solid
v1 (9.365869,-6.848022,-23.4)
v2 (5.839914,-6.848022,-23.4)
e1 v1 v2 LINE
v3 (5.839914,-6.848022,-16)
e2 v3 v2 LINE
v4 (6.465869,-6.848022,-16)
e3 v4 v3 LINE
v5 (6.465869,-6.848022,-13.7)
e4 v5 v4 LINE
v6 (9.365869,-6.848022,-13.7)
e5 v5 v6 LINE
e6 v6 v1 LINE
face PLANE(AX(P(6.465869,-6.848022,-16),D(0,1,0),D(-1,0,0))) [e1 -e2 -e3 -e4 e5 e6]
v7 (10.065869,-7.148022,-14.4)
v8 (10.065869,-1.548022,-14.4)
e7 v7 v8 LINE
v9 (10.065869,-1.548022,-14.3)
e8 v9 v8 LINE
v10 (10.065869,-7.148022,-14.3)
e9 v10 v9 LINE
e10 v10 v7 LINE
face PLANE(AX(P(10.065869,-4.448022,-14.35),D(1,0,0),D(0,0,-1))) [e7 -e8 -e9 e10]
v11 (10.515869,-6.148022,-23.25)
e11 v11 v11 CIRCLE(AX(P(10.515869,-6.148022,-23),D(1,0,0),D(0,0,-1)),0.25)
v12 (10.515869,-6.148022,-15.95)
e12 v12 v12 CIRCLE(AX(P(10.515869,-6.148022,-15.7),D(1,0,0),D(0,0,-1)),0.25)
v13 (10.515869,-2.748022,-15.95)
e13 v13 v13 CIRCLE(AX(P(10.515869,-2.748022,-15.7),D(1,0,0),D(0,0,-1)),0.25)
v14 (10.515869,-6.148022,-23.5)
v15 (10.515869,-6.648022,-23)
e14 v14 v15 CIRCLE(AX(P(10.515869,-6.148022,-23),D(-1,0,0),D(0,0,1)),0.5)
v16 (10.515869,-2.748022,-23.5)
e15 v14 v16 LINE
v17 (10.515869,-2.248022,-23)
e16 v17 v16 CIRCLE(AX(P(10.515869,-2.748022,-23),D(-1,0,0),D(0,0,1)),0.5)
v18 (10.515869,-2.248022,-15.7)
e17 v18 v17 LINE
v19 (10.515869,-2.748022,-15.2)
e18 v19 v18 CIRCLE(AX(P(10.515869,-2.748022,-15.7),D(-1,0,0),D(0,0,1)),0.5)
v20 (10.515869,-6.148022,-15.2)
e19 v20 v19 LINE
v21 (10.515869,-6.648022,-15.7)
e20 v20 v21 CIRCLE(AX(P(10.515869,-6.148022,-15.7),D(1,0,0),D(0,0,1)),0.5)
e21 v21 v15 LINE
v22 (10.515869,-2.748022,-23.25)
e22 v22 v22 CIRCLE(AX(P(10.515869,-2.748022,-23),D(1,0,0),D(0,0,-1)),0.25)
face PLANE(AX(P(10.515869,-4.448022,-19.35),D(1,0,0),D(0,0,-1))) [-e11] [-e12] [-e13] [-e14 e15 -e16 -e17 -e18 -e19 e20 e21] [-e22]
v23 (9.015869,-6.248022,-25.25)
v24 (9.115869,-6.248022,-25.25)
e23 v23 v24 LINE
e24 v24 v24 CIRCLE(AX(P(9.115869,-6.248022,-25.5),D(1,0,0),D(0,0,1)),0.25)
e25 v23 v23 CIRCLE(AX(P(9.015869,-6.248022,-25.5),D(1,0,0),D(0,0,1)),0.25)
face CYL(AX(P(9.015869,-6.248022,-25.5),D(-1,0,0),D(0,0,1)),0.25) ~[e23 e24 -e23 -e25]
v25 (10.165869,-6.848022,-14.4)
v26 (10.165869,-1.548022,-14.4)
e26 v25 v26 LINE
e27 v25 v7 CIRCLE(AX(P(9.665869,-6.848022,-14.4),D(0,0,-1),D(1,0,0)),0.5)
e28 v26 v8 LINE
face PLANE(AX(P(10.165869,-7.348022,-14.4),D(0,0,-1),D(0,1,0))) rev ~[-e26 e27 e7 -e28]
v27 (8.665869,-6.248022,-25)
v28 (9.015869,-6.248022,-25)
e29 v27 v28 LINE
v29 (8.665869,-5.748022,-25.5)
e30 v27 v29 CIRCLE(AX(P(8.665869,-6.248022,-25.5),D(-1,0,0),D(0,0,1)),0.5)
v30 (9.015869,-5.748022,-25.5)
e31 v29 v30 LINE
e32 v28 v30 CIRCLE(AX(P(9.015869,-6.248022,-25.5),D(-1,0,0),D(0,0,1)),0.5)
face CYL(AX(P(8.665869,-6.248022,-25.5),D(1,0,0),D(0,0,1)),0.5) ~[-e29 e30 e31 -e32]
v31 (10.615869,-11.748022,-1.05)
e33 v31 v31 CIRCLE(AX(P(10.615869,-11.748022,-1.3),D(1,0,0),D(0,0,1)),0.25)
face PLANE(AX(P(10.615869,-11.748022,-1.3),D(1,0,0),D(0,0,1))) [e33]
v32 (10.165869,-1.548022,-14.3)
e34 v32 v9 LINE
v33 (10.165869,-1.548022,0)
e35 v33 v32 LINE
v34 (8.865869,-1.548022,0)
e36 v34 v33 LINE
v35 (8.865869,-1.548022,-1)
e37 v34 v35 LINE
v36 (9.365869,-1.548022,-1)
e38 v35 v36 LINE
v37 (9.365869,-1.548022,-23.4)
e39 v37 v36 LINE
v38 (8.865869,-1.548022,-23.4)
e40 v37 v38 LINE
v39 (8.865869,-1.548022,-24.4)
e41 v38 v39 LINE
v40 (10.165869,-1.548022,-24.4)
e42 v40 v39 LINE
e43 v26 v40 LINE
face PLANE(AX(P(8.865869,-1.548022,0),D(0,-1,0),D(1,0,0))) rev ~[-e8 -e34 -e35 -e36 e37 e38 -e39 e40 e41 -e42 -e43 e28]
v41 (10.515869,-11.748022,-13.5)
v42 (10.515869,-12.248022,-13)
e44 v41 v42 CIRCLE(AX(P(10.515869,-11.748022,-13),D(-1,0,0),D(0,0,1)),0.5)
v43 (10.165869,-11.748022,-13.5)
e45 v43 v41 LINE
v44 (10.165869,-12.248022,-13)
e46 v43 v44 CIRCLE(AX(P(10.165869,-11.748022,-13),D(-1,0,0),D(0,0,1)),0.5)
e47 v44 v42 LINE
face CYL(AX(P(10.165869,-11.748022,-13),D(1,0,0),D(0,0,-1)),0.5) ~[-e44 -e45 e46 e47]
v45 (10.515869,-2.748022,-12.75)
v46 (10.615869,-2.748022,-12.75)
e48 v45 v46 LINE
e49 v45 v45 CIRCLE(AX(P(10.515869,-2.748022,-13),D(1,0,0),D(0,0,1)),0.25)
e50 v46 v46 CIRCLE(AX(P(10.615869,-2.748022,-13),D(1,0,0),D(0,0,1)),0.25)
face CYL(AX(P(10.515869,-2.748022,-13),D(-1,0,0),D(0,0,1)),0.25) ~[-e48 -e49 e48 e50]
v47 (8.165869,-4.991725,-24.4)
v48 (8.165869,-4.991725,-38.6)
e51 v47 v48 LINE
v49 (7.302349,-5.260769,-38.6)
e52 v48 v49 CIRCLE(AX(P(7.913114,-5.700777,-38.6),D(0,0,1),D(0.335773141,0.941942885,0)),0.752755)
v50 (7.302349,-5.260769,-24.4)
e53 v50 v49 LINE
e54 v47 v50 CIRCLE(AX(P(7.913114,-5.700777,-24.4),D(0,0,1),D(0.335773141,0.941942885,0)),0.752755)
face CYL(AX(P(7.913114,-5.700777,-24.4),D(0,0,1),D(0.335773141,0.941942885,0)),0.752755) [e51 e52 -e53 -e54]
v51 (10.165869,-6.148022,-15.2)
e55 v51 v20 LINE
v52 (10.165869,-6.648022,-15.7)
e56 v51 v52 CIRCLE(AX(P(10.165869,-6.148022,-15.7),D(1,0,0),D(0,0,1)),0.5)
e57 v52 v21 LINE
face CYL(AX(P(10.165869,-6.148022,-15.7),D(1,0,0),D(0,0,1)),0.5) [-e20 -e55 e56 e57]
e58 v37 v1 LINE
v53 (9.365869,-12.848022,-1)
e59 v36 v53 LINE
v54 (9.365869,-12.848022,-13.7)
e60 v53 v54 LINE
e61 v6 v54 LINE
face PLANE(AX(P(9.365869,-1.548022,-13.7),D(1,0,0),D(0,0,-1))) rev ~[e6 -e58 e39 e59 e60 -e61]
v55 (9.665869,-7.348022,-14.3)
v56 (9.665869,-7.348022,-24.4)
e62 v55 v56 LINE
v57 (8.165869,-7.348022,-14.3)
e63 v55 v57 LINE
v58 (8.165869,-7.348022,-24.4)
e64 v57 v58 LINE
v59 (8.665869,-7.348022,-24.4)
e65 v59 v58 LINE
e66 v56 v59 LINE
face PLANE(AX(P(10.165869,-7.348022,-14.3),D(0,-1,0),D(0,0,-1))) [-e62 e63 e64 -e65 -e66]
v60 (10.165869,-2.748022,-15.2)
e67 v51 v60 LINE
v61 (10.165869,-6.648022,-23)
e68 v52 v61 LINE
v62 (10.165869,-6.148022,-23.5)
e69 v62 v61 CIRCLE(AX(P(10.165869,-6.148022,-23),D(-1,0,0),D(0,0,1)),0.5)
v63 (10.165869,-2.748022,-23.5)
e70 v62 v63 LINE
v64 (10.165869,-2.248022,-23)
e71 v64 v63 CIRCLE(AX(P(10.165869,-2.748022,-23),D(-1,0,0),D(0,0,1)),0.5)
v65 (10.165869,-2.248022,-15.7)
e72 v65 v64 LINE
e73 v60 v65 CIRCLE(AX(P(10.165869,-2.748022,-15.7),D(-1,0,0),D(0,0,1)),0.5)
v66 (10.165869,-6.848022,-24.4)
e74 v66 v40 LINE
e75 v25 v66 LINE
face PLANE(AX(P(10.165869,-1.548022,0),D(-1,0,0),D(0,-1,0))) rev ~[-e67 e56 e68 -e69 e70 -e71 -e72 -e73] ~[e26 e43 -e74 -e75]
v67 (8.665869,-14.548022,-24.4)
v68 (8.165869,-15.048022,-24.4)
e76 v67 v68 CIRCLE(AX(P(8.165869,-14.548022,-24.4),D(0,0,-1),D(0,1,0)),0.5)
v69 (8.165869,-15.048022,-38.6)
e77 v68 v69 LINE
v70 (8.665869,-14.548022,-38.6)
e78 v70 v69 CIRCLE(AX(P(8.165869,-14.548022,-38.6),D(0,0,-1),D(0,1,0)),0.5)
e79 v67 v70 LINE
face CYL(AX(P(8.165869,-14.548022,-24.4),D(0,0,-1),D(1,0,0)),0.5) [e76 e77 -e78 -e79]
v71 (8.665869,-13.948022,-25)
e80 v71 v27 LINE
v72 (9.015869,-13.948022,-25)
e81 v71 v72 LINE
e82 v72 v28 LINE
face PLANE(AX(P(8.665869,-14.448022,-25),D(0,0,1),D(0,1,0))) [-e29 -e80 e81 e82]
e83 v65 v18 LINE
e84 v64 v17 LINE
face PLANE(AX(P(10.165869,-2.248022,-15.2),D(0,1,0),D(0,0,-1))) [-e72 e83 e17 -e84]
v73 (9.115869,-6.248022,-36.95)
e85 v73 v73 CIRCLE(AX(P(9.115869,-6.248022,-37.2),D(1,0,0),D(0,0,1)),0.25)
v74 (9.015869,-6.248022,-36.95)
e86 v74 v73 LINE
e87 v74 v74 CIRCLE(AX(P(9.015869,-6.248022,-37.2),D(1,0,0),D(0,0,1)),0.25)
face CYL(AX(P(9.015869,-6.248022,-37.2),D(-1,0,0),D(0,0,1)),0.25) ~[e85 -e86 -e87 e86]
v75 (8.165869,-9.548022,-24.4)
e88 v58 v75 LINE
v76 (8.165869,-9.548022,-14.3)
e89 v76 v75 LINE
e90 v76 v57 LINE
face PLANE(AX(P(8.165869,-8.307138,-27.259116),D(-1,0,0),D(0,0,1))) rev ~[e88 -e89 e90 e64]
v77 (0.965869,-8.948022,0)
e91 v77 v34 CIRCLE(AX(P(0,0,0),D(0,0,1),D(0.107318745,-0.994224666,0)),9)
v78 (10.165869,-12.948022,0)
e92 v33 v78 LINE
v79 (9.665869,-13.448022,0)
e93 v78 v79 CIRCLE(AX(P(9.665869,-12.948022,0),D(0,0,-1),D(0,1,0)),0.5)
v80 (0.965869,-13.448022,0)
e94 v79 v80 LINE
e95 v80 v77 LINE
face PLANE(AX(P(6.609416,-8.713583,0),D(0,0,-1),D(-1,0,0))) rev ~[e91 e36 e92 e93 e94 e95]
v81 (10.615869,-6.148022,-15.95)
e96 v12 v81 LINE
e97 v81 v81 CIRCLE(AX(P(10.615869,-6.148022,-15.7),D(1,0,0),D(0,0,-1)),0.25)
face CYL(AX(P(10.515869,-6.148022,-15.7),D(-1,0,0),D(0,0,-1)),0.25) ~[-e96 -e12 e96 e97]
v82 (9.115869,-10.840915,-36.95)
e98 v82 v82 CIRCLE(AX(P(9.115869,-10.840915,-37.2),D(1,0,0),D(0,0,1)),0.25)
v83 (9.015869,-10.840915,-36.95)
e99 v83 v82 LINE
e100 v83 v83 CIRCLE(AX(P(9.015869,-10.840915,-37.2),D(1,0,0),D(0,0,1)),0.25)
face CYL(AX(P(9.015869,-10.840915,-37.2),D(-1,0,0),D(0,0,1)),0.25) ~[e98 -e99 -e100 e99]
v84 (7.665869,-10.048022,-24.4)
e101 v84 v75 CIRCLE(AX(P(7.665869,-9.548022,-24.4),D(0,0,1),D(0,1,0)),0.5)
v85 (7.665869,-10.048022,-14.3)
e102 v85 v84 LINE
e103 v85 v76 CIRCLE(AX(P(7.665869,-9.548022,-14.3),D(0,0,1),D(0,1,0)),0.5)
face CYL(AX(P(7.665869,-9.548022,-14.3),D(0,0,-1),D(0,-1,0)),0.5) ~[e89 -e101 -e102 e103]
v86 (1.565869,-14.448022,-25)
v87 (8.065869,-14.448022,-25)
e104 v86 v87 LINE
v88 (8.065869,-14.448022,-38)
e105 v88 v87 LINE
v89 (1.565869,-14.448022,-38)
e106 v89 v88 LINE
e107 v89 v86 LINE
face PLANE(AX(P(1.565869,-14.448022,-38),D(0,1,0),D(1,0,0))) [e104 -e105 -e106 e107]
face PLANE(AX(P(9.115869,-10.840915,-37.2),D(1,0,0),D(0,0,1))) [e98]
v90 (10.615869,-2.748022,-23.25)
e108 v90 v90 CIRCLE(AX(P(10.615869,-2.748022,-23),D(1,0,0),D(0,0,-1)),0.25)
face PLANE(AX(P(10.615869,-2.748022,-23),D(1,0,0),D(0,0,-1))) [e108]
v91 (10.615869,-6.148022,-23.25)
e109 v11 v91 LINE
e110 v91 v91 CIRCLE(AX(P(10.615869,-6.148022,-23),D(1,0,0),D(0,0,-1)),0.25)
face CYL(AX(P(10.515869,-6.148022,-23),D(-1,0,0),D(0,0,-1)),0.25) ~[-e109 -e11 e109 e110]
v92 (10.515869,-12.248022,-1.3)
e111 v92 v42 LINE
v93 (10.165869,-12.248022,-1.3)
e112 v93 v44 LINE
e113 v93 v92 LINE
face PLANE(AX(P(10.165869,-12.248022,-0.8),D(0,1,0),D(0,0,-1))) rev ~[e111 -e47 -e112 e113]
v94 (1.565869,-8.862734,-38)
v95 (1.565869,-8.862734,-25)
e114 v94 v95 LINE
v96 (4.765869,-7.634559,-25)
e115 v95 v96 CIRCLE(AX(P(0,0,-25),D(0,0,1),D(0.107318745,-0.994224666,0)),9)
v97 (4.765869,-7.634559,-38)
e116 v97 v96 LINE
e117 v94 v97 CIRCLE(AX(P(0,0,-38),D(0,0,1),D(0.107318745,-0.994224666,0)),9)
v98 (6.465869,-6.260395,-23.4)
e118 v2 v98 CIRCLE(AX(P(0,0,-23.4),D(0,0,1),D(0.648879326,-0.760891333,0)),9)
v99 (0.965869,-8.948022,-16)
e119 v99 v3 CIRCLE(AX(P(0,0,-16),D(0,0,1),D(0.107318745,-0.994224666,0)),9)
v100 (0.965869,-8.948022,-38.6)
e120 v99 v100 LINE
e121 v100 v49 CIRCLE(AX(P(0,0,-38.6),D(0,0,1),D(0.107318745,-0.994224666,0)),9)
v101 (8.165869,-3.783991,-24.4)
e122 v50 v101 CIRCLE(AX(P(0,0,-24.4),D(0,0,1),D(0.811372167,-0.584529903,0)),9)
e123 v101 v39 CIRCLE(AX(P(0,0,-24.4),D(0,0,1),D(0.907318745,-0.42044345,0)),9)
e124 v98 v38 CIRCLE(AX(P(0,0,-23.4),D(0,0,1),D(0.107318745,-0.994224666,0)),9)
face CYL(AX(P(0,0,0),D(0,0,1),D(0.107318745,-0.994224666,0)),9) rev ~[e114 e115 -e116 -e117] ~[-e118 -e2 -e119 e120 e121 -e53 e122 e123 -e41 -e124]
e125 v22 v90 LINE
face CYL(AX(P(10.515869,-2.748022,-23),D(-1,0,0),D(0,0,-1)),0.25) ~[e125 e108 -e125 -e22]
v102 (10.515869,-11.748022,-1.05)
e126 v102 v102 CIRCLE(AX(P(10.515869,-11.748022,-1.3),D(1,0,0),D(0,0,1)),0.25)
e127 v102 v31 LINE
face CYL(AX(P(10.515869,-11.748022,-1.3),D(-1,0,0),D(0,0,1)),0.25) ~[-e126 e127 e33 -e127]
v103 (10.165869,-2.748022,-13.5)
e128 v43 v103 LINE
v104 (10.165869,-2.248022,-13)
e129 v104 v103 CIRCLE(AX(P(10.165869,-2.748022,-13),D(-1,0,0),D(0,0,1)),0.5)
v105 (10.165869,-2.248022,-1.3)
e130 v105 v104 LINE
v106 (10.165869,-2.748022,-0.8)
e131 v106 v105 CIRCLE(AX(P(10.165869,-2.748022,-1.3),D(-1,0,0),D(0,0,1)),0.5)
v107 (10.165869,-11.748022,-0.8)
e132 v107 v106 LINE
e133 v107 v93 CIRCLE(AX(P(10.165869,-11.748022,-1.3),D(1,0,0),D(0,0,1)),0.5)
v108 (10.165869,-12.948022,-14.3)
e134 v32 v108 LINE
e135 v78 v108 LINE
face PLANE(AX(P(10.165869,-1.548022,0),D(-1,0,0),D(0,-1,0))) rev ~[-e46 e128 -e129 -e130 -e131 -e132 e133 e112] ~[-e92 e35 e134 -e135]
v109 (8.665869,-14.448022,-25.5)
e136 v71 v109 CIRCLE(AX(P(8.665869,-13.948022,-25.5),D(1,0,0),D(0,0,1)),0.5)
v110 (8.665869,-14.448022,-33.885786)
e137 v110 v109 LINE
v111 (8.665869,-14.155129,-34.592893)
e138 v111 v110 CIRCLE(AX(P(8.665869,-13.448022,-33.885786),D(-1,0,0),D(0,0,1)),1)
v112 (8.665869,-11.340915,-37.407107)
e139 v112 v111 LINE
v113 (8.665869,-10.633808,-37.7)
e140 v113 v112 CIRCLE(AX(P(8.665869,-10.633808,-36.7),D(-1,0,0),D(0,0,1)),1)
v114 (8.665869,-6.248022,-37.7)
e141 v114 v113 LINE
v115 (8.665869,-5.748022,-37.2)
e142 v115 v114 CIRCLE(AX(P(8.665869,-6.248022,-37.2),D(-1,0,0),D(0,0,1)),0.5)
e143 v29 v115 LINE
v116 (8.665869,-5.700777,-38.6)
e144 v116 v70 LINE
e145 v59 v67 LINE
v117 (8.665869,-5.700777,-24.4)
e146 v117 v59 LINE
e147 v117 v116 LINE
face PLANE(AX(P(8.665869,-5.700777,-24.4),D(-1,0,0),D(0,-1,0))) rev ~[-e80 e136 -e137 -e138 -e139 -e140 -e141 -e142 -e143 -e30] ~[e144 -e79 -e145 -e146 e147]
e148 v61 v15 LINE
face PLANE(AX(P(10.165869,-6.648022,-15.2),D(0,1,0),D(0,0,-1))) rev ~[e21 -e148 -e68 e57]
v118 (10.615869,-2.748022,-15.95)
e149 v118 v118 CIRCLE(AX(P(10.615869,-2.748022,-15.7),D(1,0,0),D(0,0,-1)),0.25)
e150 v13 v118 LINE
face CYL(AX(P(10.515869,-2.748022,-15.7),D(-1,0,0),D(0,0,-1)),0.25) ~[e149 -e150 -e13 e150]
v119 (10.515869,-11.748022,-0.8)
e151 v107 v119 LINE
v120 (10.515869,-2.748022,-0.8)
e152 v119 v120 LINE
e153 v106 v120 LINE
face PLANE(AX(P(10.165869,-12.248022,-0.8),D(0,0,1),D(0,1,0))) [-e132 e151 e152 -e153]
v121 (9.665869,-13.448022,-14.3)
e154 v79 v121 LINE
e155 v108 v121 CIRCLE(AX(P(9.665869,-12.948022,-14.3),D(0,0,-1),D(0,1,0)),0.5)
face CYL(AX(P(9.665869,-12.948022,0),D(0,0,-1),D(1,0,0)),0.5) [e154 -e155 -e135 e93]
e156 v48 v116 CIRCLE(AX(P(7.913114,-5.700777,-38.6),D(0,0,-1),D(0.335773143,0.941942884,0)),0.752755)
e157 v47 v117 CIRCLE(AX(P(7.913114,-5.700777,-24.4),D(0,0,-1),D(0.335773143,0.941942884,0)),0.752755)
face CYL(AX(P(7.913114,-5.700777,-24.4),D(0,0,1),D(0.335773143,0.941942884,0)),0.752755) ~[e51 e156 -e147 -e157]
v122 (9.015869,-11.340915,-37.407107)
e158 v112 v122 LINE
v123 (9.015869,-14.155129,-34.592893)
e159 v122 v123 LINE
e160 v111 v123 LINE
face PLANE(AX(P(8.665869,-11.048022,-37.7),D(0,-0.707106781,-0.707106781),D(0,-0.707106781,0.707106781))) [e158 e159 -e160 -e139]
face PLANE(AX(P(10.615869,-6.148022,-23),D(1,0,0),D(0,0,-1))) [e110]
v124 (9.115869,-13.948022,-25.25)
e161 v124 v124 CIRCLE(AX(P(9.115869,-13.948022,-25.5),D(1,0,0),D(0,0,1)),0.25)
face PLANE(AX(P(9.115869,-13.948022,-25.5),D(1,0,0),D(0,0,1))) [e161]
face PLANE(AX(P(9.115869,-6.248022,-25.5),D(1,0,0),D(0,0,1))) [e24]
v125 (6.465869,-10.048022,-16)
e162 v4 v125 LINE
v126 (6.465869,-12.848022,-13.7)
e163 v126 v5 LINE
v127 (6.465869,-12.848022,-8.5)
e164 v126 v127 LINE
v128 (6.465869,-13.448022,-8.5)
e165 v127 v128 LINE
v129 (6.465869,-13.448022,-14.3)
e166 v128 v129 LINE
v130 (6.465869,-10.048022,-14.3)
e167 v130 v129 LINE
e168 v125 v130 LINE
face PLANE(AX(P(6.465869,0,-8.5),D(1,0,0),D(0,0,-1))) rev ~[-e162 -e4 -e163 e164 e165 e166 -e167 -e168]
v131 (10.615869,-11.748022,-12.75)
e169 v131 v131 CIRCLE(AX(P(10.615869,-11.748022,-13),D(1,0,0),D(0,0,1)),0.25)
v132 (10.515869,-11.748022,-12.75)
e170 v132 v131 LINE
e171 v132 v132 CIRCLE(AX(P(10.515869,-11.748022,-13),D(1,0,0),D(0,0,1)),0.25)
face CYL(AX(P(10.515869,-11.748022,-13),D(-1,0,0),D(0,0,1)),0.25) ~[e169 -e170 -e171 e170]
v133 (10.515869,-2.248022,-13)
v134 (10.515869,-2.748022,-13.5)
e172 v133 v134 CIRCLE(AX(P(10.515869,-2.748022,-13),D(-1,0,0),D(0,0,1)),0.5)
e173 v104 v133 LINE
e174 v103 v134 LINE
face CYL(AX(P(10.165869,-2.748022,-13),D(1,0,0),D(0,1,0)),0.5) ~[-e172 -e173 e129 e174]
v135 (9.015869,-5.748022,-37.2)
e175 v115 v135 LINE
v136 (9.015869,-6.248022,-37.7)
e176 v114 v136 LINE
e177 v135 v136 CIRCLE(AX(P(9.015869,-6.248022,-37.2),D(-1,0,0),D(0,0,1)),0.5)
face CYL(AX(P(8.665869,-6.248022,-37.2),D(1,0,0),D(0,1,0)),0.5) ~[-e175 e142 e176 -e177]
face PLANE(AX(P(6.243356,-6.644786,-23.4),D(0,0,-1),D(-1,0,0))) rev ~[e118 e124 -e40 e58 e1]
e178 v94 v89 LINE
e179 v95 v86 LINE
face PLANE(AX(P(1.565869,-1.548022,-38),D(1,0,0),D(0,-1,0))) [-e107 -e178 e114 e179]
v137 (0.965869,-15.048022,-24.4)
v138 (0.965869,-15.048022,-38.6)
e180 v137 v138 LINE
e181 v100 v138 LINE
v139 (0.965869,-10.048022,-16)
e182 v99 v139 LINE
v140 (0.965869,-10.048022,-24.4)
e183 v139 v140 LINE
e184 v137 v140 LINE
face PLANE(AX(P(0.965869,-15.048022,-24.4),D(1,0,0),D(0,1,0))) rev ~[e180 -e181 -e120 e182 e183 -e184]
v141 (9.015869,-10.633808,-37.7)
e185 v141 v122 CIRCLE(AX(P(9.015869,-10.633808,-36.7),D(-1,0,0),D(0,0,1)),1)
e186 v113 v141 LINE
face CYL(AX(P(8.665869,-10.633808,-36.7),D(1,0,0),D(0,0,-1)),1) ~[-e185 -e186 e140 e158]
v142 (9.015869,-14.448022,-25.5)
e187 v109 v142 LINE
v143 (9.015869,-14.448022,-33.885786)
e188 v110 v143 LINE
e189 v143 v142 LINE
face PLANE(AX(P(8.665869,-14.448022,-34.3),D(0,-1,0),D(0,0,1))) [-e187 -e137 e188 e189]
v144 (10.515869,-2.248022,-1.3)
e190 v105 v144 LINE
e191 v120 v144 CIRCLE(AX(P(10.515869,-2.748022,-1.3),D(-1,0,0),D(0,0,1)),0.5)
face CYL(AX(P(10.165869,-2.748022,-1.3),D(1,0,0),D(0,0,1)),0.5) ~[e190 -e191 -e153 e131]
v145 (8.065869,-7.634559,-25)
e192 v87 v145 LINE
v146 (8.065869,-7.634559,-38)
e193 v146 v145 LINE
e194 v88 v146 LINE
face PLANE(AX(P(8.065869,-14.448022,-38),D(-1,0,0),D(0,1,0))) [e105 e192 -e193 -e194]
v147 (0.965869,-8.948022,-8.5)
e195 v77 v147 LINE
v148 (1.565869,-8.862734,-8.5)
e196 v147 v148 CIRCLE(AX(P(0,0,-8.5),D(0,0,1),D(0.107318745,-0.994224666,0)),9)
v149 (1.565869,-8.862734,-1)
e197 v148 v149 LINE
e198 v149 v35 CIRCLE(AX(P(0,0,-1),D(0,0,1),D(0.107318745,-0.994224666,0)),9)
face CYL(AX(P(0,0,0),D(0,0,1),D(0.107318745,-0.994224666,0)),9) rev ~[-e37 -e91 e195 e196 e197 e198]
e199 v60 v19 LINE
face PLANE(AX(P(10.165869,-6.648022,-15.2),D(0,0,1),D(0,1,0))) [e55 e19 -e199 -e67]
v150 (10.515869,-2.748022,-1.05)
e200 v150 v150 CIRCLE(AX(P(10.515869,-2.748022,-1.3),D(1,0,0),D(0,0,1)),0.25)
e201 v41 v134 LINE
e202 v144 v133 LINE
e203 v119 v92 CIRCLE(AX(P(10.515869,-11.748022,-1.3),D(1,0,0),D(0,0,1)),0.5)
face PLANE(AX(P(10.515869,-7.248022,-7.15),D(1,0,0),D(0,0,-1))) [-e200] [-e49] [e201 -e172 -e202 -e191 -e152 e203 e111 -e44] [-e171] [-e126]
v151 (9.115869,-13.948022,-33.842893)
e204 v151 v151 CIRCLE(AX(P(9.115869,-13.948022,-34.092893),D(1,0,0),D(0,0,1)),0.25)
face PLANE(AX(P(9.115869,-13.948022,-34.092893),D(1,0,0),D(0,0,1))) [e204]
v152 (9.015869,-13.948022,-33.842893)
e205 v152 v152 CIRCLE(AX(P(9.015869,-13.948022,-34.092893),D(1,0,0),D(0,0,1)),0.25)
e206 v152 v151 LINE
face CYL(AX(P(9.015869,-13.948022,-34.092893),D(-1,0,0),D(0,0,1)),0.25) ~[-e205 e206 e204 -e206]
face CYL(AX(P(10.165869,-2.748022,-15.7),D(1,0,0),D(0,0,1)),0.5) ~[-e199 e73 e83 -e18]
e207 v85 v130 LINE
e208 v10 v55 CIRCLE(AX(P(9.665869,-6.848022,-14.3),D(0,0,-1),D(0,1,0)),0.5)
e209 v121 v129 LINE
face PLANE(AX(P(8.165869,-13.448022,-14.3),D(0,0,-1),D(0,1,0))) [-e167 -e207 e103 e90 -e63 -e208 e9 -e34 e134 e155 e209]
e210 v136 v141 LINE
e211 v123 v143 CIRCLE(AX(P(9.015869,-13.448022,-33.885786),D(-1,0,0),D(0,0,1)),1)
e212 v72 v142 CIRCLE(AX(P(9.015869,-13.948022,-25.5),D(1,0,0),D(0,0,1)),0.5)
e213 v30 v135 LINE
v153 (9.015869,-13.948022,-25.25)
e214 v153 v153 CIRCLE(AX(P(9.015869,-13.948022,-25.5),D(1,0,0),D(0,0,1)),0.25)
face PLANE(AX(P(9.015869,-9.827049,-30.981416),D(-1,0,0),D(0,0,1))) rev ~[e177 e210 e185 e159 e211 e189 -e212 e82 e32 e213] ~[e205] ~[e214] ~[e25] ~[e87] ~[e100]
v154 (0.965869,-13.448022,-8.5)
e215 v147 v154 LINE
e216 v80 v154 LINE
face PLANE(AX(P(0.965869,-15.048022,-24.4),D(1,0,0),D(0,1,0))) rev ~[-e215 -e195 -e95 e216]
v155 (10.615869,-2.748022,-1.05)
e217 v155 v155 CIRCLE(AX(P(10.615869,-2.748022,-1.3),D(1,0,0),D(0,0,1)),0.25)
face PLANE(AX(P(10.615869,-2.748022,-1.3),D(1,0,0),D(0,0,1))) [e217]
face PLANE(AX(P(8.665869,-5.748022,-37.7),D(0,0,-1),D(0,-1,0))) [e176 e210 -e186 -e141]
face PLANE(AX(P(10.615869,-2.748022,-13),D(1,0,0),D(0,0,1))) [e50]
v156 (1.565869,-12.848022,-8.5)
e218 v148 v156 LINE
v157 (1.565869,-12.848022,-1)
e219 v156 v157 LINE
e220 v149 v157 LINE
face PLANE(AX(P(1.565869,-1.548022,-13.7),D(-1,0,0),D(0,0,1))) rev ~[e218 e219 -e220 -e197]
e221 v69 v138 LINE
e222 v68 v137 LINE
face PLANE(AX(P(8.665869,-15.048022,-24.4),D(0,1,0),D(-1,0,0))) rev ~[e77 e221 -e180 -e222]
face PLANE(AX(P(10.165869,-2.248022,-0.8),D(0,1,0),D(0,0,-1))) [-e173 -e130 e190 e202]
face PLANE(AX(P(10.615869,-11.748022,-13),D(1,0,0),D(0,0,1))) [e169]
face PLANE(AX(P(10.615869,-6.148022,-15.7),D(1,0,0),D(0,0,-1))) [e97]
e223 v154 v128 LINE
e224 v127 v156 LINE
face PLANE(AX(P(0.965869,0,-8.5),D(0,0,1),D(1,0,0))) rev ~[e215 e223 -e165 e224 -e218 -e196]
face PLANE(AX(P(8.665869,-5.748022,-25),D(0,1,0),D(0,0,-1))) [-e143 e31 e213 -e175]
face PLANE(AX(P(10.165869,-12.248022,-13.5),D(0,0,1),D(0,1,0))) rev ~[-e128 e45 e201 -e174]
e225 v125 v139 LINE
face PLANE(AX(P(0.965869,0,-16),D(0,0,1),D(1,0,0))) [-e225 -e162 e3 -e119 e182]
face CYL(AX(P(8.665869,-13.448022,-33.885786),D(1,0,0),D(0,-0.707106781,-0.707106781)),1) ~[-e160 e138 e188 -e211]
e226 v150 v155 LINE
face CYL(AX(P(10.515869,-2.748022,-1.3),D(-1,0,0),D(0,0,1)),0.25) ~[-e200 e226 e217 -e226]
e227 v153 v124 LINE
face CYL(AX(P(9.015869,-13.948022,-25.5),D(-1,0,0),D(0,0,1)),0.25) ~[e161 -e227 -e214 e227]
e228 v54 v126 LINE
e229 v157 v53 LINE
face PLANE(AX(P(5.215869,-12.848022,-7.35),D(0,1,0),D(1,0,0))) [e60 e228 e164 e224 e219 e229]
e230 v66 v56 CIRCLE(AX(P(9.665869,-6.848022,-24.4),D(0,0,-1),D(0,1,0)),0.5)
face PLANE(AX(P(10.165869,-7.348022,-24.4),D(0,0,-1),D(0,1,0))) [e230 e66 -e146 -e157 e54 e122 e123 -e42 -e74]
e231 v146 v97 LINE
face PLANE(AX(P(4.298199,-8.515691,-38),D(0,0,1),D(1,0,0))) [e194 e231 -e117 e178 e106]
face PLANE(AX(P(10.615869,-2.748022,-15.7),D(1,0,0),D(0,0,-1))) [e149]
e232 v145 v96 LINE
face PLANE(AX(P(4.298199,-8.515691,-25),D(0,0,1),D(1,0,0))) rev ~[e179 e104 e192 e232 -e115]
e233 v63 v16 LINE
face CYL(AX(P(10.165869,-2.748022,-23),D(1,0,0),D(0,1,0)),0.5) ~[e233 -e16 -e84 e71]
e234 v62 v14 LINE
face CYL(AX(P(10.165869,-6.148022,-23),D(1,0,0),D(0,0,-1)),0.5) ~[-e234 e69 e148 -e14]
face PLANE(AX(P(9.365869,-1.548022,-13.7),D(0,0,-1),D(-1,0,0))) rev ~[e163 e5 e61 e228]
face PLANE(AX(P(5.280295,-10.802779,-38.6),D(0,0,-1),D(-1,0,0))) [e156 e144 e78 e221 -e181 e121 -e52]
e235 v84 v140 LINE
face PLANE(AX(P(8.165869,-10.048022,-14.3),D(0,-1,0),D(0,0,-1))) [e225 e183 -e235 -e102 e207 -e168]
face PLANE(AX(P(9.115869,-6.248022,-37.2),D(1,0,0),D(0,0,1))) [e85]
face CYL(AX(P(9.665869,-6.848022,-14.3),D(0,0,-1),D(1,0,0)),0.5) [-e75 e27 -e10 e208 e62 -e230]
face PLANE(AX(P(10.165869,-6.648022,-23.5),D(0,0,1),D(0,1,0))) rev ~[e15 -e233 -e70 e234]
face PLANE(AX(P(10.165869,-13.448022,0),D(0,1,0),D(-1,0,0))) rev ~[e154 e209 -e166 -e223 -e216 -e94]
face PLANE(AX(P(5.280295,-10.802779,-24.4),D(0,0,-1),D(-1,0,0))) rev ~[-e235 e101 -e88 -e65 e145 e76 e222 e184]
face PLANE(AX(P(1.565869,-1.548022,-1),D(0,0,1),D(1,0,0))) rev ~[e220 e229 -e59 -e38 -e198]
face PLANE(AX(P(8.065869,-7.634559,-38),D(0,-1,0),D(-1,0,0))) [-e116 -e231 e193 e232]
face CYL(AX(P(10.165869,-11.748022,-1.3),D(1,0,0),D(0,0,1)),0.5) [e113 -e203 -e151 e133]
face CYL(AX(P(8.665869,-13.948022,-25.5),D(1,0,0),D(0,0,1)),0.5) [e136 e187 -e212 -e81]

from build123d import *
from OCP.BRepFilletAPI import BRepFilletAPI_MakeFillet

# Parameters (mm, degrees)
BOSS_EXTRUDE1_DEPTH = 38.6
SKETCH4_W           = 12.7
SKETCH4_H           = 10
SKETCH4_W_2         = 8.3
SKETCH4_H_2         = 4.4
BOSS_EXTRUDE2_DEPTH = 0.35
FILLET1_R           = 0.5
SKETCH5_R           = 0.25
BOSS_EXTRUDE3_DEPTH = 0.1
CUT_EXTRUDE1_DEPTH  = 2
BOSS_EXTRUDE9_DEPTH = 14.2
CUT_EXTRUDE4_DEPTH  = 31.569586755
SKETCH7_W           = 10.1
SKETCH7_H           = 3.4
CUT_EXTRUDE2_DEPTH  = 43.050481162
BOSS_EXTRUDE5_DEPTH = 0.35
FILLET2_R1          = 0.5
FILLET2_R2          = 1
SKETCH9_R           = 0.25
BOSS_EXTRUDE6_DEPTH = 0.1
FILLET4_R           = 0.5
SKETCH16_W          = 0.1
SKETCH16_H          = 5.8
CUT_EXTRUDE6_DEPTH  = 0.1
SKETCH13_W          = 5.5
SKETCH13_H          = 7.5
CUT_EXTRUDE5_DEPTH  = 43.767974401
SKETCH14_W          = 0.5
SKETCH14_H          = 12.7
CUT_EXTRUDE7_DEPTH  = 11.3
SKETCH14_3_W        = 2.4
SKETCH14_3_H        = 9.7
SKETCH14_3_W_2      = 0.5
CUT_EXTRUDE8_DEPTH  = 5.3
CUT_EXTRUDE9_DEPTH  = 7.4
CUT_EXTRUDE10_START = -0.6
CUT_EXTRUDE10_DEPTH = 13


with BuildPart() as part:
    # Sketch2 → Boss-Extrude1 (new body)
    with BuildSketch(Plane.XY):
        with BuildLine():
            Line((0.965868705, -13.448021996), (0.965868705, -8.948021996))
            ThreePointArc((0.965868705, -8.948021996), (6.152703888, -6.568427123), (8.865868705, -1.548021996))
            Line((8.865868705, -1.548021996), (10.165868705, -1.548021996))
            Line((10.165868705, -1.548021996), (10.165868705, -13.448021996))
            Line((10.165868705, -13.448021996), (0.965868705, -13.448021996))
        make_face()
    extrude(amount=-BOSS_EXTRUDE1_DEPTH)

    # Sketch4 → Boss-Extrude2 (add)
    with BuildSketch(Plane(origin=(10.165868705, 0, 0), x_dir=(0, 0, -1), z_dir=(1, 0, 0))):
        with Locations((7.15, -7.248021996)):
            Rectangle(SKETCH4_W, SKETCH4_H)
        with Locations((19.35, -4.448021996)):
            Rectangle(SKETCH4_W_2, SKETCH4_H_2)
    extrude(amount=BOSS_EXTRUDE2_DEPTH)

    # Fillet1
    fillet1_edges = [part.edges().sort_by_distance(p)[0] for p in [
        (10.340868705, -2.248021996, -0.8),
        (10.340868705, -12.248021996, -0.8),
        (10.340868705, -12.248021996, -13.5),
        (10.340868705, -2.248021996, -13.5),
        (10.340868705, -2.248021996, -15.2),
        (10.340868705, -6.648021996, -15.2),
        (10.340868705, -6.648021996, -23.5),
        (10.340868705, -2.248021996, -23.5),
    ]]
    fillet(fillet1_edges, radius=FILLET1_R)

    # Sketch5 → Boss-Extrude3 (add)
    with BuildSketch(Plane(origin=(10.515868705, 0, 0), x_dir=(0, 0, -1), z_dir=(1, 0, 0))):
        with Locations(Location((1.3, -2.748021996, 0), (0, 0, 180))):
            Circle(SKETCH5_R)
        with Locations(Location((13, -2.748021996, 0), (0, 0, 180))):
            Circle(SKETCH5_R)
        with Locations((15.7, -2.748021996)):
            Circle(SKETCH5_R)
        with Locations((15.7, -6.148021996)):
            Circle(SKETCH5_R)
        with Locations(Location((13, -11.748021996, 0), (0, 0, 180))):
            Circle(SKETCH5_R)
        with Locations(Location((1.3, -11.748021996, 0), (0, 0, 180))):
            Circle(SKETCH5_R)
        with Locations((23, -2.748021996)):
            Circle(SKETCH5_R)
        with Locations((23, -6.148021996)):
            Circle(SKETCH5_R)
    extrude(amount=BOSS_EXTRUDE3_DEPTH)

    # Sketch3 → Cut-Extrude1 (cut)
    with BuildSketch(Plane(origin=(10.165868705, 0, 0), x_dir=(0, 0, -1), z_dir=(1, 0, 0))):
        Polygon((14.3, -13.448021996), (14.3, -7.348021996), (24.4, -7.348021996), (24.4, -1.548021996), (38.6, -1.548021996), (38.6, -13.448021996), align=None)
    extrude(amount=-CUT_EXTRUDE1_DEPTH, mode=Mode.SUBTRACT)

    # Sketch12 → Boss-Extrude9 (add)
    with BuildSketch(Plane(origin=(0, 0, -24.4), x_dir=(-1, 0, 0), z_dir=(0, 0, -1))):
        with BuildLine():
            Line((-8.165868705, -7.348021996), (-8.665868705, -7.348021996))
            Line((-8.665868705, -7.348021996), (-8.665868705, -15.048021996))
            Line((-8.665868705, -15.048021996), (-0.965868705, -15.048021996))
            Line((-0.965868705, -15.048021996), (-0.965868705, -8.948021996))
            ThreePointArc((-0.965868705, -8.948021996), (-4.526567846, -7.778829188), (-7.302349494, -5.260769133))
            ThreePointArc((-7.302349494, -5.260769133), (-7.689196636, -4.98209684), (-8.165868705, -4.991724772))
            Line((-8.165868705, -4.991724772), (-8.165868705, -7.348021996))
        make_face()
        with BuildLine():
            ThreePointArc((-8.165868705, -4.991724772), (-8.528297691, -5.266969628), (-8.665868705, -5.700776862))
            Line((-8.665868705, -5.700776862), (-8.665868705, -7.348021996))
            Line((-8.665868705, -7.348021996), (-8.165868705, -7.348021996))
            Line((-8.165868705, -7.348021996), (-8.165868705, -4.991724772))
        make_face()
    extrude(amount=BOSS_EXTRUDE9_DEPTH)

    # Sketch12<3> → Cut-Extrude4 (cut, through all)
    with BuildSketch(Plane(origin=(0, 0, -24.4), x_dir=(-1, 0, 0), z_dir=(0, 0, -1))):
        with BuildLine():
            Line((-8.165868705, -3.783991053), (-8.165868705, -4.991724772))
            ThreePointArc((-8.165868705, -4.991724772), (-7.689196636, -4.98209684), (-7.302349494, -5.260769133))
            ThreePointArc((-7.302349494, -5.260769133), (-7.769276796, -4.542943766), (-8.165868705, -3.783991053))
        make_face()
        with BuildLine():
            Line((-8.665868705, -2.429551313), (-8.665868705, -5.700776862))
            ThreePointArc((-8.665868705, -5.700776862), (-8.528297691, -5.266969628), (-8.165868705, -4.991724772))
            Line((-8.165868705, -4.991724772), (-8.165868705, -3.783991053))
            ThreePointArc((-8.165868705, -3.783991053), (-8.443072475, -3.116813627), (-8.665868705, -2.429551313))
        make_face()
    extrude(amount=CUT_EXTRUDE4_DEPTH, mode=Mode.SUBTRACT)

    # Sketch7 → Cut-Extrude2 (cut, through all)
    with BuildSketch(Plane(origin=(8.165868705, 0, 0), x_dir=(0, 0, -1), z_dir=(1, 0, 0))):
        with Locations((19.35, -11.748021996)):
            Rectangle(SKETCH7_W, SKETCH7_H)
    extrude(amount=-CUT_EXTRUDE2_DEPTH, mode=Mode.SUBTRACT)

    # Sketch8 → Boss-Extrude5 (add)
    with BuildSketch(Plane(origin=(8.665868705, 0, 0), x_dir=(0, 0, -1), z_dir=(1, 0, 0))):
        Polygon((25, -14.448021996), (25, -5.748021996), (37.7, -5.748021996), (37.7, -11.048021996), (34.3, -14.448021996), align=None)
    extrude(amount=BOSS_EXTRUDE5_DEPTH)

    # Fillet2: one fillet with a radius per group of edges: ONE call of the kernel's fillet builder (fillet() takes one radius for all edges)
    fillet2_edges_1 = [part.edges().sort_by_distance(p)[0] for p in [
        (8.840868705, -5.748021996, -25),
        (8.840868705, -14.448021996, -25),
        (8.840868705, -5.748021996, -37.7),
    ]]
    fillet2_edges_2 = [part.edges().sort_by_distance(p)[0] for p in [
        (8.840868705, -14.448021996, -34.3),
        (8.840868705, -11.048021996, -37.7),
    ]]
    fillet2 = BRepFilletAPI_MakeFillet(part.part.solid().wrapped)
    for e in fillet2_edges_1:
        fillet2.Add(FILLET2_R1, e.wrapped)
    for e in fillet2_edges_2:
        fillet2.Add(FILLET2_R2, e.wrapped)
    add(Compound.cast(fillet2.Shape()), mode=Mode.REPLACE)

    # Sketch9 → Boss-Extrude6 (add)
    with BuildSketch(Plane(origin=(9.015868705, 0, 0), x_dir=(0, 0, -1), z_dir=(1, 0, 0))):
        with Locations(Location((25.5, -6.248021996, 0), (0, 0, 180))):
            Circle(SKETCH9_R)
        with Locations(Location((25.5, -13.948021996, 0), (0, 0, 180))):
            Circle(SKETCH9_R)
        with Locations(Location((37.2, -6.248021996, 0), (0, 0, 180))):
            Circle(SKETCH9_R)
        with Locations(Location((34.092893219, -13.948021996, 0), (0, 0, 180))):
            Circle(SKETCH9_R)
        with Locations(Location((37.2, -10.840915215, 0), (0, 0, 180))):
            Circle(SKETCH9_R)
    extrude(amount=BOSS_EXTRUDE6_DEPTH)

    # Fillet4
    fillet4_edges = [part.edges().sort_by_distance(p)[0] for p in [
        (10.165868705, -13.448021996, -7.15),
        (10.165868705, -7.348021996, -19.35),
        (8.665868705, -15.048021996, -31.5),
        (8.165868705, -10.048021996, -19.35),
    ]]
    fillet(fillet4_edges, radius=FILLET4_R)

    # Sketch16 → Cut-Extrude6 (cut)
    with BuildSketch(Plane(origin=(10.165868705, 0, 0), x_dir=(0, 0, -1), z_dir=(1, 0, 0))):
        with Locations((14.35, -4.448021996)):
            Rectangle(SKETCH16_W, SKETCH16_H)
    extrude(amount=-CUT_EXTRUDE6_DEPTH, mode=Mode.SUBTRACT)

    # Sketch13 → Cut-Extrude5 (cut, through all)
    with BuildSketch(Plane(origin=(0, 0, 0), x_dir=(1, 0, 0), z_dir=(0, 1, 0))):
        with Locations((3.715868705, 12.25)):
            Rectangle(SKETCH13_W, SKETCH13_H)
    extrude(amount=-CUT_EXTRUDE5_DEPTH, mode=Mode.SUBTRACT)

    # Sketch14 → Cut-Extrude7 (cut)
    with BuildSketch(Plane(origin=(0, -1.548021996, 0), x_dir=(1, 0, 0), z_dir=(0, 1, 0))):
        Polygon((1.565868705, 1), (8.865868705, 1), (8.865868705, 13.7), (6.465868705, 13.7), (1.565868705, 13.7), align=None)
        with Locations((9.115868705, 7.35)):
            Rectangle(SKETCH14_W, SKETCH14_H)
    extrude(amount=-CUT_EXTRUDE7_DEPTH, mode=Mode.SUBTRACT)

    # Sketch14<3> → Cut-Extrude8 (cut)
    with BuildSketch(Plane(origin=(0, -1.548021996, 0), x_dir=(1, 0, 0), z_dir=(0, 1, 0))):
        with Locations((7.665868705, 18.55)):
            Rectangle(SKETCH14_3_W, SKETCH14_3_H)
        with Locations((9.115868705, 18.55)):
            Rectangle(SKETCH14_3_W_2, SKETCH14_3_H)
    extrude(amount=-CUT_EXTRUDE8_DEPTH, mode=Mode.SUBTRACT)

    # Sketch17 → Cut-Extrude9 (cut)
    with BuildSketch(Plane.XY.offset(-16)):
        with BuildLine():
            Line((6.465868705, -6.260394707), (6.465868705, -6.848021996))
            Line((6.465868705, -6.848021996), (5.839913933, -6.848021996))
            ThreePointArc((5.839913933, -6.848021996), (6.159902438, -6.561676764), (6.465868705, -6.260394707))
        make_face()
    extrude(amount=-CUT_EXTRUDE9_DEPTH, mode=Mode.SUBTRACT)

    # Sketch18 → Cut-Extrude10 (cut)
    with BuildSketch(Plane(origin=(0, 0, -38.6), x_dir=(-1, 0, 0), z_dir=(0, 0, -1)).offset(CUT_EXTRUDE10_START)):
        Polygon((-8.065868705, -14.448021996), (-8.065868705, -7.634559286), (-4.765868705, -7.634559286), (-4.765868705, -1.548021996), (-1.565868705, -1.548021996), (-1.565868705, -14.448021996), align=None)
    extrude(amount=-CUT_EXTRUDE10_DEPTH, mode=Mode.SUBTRACT)


solid = part.part
